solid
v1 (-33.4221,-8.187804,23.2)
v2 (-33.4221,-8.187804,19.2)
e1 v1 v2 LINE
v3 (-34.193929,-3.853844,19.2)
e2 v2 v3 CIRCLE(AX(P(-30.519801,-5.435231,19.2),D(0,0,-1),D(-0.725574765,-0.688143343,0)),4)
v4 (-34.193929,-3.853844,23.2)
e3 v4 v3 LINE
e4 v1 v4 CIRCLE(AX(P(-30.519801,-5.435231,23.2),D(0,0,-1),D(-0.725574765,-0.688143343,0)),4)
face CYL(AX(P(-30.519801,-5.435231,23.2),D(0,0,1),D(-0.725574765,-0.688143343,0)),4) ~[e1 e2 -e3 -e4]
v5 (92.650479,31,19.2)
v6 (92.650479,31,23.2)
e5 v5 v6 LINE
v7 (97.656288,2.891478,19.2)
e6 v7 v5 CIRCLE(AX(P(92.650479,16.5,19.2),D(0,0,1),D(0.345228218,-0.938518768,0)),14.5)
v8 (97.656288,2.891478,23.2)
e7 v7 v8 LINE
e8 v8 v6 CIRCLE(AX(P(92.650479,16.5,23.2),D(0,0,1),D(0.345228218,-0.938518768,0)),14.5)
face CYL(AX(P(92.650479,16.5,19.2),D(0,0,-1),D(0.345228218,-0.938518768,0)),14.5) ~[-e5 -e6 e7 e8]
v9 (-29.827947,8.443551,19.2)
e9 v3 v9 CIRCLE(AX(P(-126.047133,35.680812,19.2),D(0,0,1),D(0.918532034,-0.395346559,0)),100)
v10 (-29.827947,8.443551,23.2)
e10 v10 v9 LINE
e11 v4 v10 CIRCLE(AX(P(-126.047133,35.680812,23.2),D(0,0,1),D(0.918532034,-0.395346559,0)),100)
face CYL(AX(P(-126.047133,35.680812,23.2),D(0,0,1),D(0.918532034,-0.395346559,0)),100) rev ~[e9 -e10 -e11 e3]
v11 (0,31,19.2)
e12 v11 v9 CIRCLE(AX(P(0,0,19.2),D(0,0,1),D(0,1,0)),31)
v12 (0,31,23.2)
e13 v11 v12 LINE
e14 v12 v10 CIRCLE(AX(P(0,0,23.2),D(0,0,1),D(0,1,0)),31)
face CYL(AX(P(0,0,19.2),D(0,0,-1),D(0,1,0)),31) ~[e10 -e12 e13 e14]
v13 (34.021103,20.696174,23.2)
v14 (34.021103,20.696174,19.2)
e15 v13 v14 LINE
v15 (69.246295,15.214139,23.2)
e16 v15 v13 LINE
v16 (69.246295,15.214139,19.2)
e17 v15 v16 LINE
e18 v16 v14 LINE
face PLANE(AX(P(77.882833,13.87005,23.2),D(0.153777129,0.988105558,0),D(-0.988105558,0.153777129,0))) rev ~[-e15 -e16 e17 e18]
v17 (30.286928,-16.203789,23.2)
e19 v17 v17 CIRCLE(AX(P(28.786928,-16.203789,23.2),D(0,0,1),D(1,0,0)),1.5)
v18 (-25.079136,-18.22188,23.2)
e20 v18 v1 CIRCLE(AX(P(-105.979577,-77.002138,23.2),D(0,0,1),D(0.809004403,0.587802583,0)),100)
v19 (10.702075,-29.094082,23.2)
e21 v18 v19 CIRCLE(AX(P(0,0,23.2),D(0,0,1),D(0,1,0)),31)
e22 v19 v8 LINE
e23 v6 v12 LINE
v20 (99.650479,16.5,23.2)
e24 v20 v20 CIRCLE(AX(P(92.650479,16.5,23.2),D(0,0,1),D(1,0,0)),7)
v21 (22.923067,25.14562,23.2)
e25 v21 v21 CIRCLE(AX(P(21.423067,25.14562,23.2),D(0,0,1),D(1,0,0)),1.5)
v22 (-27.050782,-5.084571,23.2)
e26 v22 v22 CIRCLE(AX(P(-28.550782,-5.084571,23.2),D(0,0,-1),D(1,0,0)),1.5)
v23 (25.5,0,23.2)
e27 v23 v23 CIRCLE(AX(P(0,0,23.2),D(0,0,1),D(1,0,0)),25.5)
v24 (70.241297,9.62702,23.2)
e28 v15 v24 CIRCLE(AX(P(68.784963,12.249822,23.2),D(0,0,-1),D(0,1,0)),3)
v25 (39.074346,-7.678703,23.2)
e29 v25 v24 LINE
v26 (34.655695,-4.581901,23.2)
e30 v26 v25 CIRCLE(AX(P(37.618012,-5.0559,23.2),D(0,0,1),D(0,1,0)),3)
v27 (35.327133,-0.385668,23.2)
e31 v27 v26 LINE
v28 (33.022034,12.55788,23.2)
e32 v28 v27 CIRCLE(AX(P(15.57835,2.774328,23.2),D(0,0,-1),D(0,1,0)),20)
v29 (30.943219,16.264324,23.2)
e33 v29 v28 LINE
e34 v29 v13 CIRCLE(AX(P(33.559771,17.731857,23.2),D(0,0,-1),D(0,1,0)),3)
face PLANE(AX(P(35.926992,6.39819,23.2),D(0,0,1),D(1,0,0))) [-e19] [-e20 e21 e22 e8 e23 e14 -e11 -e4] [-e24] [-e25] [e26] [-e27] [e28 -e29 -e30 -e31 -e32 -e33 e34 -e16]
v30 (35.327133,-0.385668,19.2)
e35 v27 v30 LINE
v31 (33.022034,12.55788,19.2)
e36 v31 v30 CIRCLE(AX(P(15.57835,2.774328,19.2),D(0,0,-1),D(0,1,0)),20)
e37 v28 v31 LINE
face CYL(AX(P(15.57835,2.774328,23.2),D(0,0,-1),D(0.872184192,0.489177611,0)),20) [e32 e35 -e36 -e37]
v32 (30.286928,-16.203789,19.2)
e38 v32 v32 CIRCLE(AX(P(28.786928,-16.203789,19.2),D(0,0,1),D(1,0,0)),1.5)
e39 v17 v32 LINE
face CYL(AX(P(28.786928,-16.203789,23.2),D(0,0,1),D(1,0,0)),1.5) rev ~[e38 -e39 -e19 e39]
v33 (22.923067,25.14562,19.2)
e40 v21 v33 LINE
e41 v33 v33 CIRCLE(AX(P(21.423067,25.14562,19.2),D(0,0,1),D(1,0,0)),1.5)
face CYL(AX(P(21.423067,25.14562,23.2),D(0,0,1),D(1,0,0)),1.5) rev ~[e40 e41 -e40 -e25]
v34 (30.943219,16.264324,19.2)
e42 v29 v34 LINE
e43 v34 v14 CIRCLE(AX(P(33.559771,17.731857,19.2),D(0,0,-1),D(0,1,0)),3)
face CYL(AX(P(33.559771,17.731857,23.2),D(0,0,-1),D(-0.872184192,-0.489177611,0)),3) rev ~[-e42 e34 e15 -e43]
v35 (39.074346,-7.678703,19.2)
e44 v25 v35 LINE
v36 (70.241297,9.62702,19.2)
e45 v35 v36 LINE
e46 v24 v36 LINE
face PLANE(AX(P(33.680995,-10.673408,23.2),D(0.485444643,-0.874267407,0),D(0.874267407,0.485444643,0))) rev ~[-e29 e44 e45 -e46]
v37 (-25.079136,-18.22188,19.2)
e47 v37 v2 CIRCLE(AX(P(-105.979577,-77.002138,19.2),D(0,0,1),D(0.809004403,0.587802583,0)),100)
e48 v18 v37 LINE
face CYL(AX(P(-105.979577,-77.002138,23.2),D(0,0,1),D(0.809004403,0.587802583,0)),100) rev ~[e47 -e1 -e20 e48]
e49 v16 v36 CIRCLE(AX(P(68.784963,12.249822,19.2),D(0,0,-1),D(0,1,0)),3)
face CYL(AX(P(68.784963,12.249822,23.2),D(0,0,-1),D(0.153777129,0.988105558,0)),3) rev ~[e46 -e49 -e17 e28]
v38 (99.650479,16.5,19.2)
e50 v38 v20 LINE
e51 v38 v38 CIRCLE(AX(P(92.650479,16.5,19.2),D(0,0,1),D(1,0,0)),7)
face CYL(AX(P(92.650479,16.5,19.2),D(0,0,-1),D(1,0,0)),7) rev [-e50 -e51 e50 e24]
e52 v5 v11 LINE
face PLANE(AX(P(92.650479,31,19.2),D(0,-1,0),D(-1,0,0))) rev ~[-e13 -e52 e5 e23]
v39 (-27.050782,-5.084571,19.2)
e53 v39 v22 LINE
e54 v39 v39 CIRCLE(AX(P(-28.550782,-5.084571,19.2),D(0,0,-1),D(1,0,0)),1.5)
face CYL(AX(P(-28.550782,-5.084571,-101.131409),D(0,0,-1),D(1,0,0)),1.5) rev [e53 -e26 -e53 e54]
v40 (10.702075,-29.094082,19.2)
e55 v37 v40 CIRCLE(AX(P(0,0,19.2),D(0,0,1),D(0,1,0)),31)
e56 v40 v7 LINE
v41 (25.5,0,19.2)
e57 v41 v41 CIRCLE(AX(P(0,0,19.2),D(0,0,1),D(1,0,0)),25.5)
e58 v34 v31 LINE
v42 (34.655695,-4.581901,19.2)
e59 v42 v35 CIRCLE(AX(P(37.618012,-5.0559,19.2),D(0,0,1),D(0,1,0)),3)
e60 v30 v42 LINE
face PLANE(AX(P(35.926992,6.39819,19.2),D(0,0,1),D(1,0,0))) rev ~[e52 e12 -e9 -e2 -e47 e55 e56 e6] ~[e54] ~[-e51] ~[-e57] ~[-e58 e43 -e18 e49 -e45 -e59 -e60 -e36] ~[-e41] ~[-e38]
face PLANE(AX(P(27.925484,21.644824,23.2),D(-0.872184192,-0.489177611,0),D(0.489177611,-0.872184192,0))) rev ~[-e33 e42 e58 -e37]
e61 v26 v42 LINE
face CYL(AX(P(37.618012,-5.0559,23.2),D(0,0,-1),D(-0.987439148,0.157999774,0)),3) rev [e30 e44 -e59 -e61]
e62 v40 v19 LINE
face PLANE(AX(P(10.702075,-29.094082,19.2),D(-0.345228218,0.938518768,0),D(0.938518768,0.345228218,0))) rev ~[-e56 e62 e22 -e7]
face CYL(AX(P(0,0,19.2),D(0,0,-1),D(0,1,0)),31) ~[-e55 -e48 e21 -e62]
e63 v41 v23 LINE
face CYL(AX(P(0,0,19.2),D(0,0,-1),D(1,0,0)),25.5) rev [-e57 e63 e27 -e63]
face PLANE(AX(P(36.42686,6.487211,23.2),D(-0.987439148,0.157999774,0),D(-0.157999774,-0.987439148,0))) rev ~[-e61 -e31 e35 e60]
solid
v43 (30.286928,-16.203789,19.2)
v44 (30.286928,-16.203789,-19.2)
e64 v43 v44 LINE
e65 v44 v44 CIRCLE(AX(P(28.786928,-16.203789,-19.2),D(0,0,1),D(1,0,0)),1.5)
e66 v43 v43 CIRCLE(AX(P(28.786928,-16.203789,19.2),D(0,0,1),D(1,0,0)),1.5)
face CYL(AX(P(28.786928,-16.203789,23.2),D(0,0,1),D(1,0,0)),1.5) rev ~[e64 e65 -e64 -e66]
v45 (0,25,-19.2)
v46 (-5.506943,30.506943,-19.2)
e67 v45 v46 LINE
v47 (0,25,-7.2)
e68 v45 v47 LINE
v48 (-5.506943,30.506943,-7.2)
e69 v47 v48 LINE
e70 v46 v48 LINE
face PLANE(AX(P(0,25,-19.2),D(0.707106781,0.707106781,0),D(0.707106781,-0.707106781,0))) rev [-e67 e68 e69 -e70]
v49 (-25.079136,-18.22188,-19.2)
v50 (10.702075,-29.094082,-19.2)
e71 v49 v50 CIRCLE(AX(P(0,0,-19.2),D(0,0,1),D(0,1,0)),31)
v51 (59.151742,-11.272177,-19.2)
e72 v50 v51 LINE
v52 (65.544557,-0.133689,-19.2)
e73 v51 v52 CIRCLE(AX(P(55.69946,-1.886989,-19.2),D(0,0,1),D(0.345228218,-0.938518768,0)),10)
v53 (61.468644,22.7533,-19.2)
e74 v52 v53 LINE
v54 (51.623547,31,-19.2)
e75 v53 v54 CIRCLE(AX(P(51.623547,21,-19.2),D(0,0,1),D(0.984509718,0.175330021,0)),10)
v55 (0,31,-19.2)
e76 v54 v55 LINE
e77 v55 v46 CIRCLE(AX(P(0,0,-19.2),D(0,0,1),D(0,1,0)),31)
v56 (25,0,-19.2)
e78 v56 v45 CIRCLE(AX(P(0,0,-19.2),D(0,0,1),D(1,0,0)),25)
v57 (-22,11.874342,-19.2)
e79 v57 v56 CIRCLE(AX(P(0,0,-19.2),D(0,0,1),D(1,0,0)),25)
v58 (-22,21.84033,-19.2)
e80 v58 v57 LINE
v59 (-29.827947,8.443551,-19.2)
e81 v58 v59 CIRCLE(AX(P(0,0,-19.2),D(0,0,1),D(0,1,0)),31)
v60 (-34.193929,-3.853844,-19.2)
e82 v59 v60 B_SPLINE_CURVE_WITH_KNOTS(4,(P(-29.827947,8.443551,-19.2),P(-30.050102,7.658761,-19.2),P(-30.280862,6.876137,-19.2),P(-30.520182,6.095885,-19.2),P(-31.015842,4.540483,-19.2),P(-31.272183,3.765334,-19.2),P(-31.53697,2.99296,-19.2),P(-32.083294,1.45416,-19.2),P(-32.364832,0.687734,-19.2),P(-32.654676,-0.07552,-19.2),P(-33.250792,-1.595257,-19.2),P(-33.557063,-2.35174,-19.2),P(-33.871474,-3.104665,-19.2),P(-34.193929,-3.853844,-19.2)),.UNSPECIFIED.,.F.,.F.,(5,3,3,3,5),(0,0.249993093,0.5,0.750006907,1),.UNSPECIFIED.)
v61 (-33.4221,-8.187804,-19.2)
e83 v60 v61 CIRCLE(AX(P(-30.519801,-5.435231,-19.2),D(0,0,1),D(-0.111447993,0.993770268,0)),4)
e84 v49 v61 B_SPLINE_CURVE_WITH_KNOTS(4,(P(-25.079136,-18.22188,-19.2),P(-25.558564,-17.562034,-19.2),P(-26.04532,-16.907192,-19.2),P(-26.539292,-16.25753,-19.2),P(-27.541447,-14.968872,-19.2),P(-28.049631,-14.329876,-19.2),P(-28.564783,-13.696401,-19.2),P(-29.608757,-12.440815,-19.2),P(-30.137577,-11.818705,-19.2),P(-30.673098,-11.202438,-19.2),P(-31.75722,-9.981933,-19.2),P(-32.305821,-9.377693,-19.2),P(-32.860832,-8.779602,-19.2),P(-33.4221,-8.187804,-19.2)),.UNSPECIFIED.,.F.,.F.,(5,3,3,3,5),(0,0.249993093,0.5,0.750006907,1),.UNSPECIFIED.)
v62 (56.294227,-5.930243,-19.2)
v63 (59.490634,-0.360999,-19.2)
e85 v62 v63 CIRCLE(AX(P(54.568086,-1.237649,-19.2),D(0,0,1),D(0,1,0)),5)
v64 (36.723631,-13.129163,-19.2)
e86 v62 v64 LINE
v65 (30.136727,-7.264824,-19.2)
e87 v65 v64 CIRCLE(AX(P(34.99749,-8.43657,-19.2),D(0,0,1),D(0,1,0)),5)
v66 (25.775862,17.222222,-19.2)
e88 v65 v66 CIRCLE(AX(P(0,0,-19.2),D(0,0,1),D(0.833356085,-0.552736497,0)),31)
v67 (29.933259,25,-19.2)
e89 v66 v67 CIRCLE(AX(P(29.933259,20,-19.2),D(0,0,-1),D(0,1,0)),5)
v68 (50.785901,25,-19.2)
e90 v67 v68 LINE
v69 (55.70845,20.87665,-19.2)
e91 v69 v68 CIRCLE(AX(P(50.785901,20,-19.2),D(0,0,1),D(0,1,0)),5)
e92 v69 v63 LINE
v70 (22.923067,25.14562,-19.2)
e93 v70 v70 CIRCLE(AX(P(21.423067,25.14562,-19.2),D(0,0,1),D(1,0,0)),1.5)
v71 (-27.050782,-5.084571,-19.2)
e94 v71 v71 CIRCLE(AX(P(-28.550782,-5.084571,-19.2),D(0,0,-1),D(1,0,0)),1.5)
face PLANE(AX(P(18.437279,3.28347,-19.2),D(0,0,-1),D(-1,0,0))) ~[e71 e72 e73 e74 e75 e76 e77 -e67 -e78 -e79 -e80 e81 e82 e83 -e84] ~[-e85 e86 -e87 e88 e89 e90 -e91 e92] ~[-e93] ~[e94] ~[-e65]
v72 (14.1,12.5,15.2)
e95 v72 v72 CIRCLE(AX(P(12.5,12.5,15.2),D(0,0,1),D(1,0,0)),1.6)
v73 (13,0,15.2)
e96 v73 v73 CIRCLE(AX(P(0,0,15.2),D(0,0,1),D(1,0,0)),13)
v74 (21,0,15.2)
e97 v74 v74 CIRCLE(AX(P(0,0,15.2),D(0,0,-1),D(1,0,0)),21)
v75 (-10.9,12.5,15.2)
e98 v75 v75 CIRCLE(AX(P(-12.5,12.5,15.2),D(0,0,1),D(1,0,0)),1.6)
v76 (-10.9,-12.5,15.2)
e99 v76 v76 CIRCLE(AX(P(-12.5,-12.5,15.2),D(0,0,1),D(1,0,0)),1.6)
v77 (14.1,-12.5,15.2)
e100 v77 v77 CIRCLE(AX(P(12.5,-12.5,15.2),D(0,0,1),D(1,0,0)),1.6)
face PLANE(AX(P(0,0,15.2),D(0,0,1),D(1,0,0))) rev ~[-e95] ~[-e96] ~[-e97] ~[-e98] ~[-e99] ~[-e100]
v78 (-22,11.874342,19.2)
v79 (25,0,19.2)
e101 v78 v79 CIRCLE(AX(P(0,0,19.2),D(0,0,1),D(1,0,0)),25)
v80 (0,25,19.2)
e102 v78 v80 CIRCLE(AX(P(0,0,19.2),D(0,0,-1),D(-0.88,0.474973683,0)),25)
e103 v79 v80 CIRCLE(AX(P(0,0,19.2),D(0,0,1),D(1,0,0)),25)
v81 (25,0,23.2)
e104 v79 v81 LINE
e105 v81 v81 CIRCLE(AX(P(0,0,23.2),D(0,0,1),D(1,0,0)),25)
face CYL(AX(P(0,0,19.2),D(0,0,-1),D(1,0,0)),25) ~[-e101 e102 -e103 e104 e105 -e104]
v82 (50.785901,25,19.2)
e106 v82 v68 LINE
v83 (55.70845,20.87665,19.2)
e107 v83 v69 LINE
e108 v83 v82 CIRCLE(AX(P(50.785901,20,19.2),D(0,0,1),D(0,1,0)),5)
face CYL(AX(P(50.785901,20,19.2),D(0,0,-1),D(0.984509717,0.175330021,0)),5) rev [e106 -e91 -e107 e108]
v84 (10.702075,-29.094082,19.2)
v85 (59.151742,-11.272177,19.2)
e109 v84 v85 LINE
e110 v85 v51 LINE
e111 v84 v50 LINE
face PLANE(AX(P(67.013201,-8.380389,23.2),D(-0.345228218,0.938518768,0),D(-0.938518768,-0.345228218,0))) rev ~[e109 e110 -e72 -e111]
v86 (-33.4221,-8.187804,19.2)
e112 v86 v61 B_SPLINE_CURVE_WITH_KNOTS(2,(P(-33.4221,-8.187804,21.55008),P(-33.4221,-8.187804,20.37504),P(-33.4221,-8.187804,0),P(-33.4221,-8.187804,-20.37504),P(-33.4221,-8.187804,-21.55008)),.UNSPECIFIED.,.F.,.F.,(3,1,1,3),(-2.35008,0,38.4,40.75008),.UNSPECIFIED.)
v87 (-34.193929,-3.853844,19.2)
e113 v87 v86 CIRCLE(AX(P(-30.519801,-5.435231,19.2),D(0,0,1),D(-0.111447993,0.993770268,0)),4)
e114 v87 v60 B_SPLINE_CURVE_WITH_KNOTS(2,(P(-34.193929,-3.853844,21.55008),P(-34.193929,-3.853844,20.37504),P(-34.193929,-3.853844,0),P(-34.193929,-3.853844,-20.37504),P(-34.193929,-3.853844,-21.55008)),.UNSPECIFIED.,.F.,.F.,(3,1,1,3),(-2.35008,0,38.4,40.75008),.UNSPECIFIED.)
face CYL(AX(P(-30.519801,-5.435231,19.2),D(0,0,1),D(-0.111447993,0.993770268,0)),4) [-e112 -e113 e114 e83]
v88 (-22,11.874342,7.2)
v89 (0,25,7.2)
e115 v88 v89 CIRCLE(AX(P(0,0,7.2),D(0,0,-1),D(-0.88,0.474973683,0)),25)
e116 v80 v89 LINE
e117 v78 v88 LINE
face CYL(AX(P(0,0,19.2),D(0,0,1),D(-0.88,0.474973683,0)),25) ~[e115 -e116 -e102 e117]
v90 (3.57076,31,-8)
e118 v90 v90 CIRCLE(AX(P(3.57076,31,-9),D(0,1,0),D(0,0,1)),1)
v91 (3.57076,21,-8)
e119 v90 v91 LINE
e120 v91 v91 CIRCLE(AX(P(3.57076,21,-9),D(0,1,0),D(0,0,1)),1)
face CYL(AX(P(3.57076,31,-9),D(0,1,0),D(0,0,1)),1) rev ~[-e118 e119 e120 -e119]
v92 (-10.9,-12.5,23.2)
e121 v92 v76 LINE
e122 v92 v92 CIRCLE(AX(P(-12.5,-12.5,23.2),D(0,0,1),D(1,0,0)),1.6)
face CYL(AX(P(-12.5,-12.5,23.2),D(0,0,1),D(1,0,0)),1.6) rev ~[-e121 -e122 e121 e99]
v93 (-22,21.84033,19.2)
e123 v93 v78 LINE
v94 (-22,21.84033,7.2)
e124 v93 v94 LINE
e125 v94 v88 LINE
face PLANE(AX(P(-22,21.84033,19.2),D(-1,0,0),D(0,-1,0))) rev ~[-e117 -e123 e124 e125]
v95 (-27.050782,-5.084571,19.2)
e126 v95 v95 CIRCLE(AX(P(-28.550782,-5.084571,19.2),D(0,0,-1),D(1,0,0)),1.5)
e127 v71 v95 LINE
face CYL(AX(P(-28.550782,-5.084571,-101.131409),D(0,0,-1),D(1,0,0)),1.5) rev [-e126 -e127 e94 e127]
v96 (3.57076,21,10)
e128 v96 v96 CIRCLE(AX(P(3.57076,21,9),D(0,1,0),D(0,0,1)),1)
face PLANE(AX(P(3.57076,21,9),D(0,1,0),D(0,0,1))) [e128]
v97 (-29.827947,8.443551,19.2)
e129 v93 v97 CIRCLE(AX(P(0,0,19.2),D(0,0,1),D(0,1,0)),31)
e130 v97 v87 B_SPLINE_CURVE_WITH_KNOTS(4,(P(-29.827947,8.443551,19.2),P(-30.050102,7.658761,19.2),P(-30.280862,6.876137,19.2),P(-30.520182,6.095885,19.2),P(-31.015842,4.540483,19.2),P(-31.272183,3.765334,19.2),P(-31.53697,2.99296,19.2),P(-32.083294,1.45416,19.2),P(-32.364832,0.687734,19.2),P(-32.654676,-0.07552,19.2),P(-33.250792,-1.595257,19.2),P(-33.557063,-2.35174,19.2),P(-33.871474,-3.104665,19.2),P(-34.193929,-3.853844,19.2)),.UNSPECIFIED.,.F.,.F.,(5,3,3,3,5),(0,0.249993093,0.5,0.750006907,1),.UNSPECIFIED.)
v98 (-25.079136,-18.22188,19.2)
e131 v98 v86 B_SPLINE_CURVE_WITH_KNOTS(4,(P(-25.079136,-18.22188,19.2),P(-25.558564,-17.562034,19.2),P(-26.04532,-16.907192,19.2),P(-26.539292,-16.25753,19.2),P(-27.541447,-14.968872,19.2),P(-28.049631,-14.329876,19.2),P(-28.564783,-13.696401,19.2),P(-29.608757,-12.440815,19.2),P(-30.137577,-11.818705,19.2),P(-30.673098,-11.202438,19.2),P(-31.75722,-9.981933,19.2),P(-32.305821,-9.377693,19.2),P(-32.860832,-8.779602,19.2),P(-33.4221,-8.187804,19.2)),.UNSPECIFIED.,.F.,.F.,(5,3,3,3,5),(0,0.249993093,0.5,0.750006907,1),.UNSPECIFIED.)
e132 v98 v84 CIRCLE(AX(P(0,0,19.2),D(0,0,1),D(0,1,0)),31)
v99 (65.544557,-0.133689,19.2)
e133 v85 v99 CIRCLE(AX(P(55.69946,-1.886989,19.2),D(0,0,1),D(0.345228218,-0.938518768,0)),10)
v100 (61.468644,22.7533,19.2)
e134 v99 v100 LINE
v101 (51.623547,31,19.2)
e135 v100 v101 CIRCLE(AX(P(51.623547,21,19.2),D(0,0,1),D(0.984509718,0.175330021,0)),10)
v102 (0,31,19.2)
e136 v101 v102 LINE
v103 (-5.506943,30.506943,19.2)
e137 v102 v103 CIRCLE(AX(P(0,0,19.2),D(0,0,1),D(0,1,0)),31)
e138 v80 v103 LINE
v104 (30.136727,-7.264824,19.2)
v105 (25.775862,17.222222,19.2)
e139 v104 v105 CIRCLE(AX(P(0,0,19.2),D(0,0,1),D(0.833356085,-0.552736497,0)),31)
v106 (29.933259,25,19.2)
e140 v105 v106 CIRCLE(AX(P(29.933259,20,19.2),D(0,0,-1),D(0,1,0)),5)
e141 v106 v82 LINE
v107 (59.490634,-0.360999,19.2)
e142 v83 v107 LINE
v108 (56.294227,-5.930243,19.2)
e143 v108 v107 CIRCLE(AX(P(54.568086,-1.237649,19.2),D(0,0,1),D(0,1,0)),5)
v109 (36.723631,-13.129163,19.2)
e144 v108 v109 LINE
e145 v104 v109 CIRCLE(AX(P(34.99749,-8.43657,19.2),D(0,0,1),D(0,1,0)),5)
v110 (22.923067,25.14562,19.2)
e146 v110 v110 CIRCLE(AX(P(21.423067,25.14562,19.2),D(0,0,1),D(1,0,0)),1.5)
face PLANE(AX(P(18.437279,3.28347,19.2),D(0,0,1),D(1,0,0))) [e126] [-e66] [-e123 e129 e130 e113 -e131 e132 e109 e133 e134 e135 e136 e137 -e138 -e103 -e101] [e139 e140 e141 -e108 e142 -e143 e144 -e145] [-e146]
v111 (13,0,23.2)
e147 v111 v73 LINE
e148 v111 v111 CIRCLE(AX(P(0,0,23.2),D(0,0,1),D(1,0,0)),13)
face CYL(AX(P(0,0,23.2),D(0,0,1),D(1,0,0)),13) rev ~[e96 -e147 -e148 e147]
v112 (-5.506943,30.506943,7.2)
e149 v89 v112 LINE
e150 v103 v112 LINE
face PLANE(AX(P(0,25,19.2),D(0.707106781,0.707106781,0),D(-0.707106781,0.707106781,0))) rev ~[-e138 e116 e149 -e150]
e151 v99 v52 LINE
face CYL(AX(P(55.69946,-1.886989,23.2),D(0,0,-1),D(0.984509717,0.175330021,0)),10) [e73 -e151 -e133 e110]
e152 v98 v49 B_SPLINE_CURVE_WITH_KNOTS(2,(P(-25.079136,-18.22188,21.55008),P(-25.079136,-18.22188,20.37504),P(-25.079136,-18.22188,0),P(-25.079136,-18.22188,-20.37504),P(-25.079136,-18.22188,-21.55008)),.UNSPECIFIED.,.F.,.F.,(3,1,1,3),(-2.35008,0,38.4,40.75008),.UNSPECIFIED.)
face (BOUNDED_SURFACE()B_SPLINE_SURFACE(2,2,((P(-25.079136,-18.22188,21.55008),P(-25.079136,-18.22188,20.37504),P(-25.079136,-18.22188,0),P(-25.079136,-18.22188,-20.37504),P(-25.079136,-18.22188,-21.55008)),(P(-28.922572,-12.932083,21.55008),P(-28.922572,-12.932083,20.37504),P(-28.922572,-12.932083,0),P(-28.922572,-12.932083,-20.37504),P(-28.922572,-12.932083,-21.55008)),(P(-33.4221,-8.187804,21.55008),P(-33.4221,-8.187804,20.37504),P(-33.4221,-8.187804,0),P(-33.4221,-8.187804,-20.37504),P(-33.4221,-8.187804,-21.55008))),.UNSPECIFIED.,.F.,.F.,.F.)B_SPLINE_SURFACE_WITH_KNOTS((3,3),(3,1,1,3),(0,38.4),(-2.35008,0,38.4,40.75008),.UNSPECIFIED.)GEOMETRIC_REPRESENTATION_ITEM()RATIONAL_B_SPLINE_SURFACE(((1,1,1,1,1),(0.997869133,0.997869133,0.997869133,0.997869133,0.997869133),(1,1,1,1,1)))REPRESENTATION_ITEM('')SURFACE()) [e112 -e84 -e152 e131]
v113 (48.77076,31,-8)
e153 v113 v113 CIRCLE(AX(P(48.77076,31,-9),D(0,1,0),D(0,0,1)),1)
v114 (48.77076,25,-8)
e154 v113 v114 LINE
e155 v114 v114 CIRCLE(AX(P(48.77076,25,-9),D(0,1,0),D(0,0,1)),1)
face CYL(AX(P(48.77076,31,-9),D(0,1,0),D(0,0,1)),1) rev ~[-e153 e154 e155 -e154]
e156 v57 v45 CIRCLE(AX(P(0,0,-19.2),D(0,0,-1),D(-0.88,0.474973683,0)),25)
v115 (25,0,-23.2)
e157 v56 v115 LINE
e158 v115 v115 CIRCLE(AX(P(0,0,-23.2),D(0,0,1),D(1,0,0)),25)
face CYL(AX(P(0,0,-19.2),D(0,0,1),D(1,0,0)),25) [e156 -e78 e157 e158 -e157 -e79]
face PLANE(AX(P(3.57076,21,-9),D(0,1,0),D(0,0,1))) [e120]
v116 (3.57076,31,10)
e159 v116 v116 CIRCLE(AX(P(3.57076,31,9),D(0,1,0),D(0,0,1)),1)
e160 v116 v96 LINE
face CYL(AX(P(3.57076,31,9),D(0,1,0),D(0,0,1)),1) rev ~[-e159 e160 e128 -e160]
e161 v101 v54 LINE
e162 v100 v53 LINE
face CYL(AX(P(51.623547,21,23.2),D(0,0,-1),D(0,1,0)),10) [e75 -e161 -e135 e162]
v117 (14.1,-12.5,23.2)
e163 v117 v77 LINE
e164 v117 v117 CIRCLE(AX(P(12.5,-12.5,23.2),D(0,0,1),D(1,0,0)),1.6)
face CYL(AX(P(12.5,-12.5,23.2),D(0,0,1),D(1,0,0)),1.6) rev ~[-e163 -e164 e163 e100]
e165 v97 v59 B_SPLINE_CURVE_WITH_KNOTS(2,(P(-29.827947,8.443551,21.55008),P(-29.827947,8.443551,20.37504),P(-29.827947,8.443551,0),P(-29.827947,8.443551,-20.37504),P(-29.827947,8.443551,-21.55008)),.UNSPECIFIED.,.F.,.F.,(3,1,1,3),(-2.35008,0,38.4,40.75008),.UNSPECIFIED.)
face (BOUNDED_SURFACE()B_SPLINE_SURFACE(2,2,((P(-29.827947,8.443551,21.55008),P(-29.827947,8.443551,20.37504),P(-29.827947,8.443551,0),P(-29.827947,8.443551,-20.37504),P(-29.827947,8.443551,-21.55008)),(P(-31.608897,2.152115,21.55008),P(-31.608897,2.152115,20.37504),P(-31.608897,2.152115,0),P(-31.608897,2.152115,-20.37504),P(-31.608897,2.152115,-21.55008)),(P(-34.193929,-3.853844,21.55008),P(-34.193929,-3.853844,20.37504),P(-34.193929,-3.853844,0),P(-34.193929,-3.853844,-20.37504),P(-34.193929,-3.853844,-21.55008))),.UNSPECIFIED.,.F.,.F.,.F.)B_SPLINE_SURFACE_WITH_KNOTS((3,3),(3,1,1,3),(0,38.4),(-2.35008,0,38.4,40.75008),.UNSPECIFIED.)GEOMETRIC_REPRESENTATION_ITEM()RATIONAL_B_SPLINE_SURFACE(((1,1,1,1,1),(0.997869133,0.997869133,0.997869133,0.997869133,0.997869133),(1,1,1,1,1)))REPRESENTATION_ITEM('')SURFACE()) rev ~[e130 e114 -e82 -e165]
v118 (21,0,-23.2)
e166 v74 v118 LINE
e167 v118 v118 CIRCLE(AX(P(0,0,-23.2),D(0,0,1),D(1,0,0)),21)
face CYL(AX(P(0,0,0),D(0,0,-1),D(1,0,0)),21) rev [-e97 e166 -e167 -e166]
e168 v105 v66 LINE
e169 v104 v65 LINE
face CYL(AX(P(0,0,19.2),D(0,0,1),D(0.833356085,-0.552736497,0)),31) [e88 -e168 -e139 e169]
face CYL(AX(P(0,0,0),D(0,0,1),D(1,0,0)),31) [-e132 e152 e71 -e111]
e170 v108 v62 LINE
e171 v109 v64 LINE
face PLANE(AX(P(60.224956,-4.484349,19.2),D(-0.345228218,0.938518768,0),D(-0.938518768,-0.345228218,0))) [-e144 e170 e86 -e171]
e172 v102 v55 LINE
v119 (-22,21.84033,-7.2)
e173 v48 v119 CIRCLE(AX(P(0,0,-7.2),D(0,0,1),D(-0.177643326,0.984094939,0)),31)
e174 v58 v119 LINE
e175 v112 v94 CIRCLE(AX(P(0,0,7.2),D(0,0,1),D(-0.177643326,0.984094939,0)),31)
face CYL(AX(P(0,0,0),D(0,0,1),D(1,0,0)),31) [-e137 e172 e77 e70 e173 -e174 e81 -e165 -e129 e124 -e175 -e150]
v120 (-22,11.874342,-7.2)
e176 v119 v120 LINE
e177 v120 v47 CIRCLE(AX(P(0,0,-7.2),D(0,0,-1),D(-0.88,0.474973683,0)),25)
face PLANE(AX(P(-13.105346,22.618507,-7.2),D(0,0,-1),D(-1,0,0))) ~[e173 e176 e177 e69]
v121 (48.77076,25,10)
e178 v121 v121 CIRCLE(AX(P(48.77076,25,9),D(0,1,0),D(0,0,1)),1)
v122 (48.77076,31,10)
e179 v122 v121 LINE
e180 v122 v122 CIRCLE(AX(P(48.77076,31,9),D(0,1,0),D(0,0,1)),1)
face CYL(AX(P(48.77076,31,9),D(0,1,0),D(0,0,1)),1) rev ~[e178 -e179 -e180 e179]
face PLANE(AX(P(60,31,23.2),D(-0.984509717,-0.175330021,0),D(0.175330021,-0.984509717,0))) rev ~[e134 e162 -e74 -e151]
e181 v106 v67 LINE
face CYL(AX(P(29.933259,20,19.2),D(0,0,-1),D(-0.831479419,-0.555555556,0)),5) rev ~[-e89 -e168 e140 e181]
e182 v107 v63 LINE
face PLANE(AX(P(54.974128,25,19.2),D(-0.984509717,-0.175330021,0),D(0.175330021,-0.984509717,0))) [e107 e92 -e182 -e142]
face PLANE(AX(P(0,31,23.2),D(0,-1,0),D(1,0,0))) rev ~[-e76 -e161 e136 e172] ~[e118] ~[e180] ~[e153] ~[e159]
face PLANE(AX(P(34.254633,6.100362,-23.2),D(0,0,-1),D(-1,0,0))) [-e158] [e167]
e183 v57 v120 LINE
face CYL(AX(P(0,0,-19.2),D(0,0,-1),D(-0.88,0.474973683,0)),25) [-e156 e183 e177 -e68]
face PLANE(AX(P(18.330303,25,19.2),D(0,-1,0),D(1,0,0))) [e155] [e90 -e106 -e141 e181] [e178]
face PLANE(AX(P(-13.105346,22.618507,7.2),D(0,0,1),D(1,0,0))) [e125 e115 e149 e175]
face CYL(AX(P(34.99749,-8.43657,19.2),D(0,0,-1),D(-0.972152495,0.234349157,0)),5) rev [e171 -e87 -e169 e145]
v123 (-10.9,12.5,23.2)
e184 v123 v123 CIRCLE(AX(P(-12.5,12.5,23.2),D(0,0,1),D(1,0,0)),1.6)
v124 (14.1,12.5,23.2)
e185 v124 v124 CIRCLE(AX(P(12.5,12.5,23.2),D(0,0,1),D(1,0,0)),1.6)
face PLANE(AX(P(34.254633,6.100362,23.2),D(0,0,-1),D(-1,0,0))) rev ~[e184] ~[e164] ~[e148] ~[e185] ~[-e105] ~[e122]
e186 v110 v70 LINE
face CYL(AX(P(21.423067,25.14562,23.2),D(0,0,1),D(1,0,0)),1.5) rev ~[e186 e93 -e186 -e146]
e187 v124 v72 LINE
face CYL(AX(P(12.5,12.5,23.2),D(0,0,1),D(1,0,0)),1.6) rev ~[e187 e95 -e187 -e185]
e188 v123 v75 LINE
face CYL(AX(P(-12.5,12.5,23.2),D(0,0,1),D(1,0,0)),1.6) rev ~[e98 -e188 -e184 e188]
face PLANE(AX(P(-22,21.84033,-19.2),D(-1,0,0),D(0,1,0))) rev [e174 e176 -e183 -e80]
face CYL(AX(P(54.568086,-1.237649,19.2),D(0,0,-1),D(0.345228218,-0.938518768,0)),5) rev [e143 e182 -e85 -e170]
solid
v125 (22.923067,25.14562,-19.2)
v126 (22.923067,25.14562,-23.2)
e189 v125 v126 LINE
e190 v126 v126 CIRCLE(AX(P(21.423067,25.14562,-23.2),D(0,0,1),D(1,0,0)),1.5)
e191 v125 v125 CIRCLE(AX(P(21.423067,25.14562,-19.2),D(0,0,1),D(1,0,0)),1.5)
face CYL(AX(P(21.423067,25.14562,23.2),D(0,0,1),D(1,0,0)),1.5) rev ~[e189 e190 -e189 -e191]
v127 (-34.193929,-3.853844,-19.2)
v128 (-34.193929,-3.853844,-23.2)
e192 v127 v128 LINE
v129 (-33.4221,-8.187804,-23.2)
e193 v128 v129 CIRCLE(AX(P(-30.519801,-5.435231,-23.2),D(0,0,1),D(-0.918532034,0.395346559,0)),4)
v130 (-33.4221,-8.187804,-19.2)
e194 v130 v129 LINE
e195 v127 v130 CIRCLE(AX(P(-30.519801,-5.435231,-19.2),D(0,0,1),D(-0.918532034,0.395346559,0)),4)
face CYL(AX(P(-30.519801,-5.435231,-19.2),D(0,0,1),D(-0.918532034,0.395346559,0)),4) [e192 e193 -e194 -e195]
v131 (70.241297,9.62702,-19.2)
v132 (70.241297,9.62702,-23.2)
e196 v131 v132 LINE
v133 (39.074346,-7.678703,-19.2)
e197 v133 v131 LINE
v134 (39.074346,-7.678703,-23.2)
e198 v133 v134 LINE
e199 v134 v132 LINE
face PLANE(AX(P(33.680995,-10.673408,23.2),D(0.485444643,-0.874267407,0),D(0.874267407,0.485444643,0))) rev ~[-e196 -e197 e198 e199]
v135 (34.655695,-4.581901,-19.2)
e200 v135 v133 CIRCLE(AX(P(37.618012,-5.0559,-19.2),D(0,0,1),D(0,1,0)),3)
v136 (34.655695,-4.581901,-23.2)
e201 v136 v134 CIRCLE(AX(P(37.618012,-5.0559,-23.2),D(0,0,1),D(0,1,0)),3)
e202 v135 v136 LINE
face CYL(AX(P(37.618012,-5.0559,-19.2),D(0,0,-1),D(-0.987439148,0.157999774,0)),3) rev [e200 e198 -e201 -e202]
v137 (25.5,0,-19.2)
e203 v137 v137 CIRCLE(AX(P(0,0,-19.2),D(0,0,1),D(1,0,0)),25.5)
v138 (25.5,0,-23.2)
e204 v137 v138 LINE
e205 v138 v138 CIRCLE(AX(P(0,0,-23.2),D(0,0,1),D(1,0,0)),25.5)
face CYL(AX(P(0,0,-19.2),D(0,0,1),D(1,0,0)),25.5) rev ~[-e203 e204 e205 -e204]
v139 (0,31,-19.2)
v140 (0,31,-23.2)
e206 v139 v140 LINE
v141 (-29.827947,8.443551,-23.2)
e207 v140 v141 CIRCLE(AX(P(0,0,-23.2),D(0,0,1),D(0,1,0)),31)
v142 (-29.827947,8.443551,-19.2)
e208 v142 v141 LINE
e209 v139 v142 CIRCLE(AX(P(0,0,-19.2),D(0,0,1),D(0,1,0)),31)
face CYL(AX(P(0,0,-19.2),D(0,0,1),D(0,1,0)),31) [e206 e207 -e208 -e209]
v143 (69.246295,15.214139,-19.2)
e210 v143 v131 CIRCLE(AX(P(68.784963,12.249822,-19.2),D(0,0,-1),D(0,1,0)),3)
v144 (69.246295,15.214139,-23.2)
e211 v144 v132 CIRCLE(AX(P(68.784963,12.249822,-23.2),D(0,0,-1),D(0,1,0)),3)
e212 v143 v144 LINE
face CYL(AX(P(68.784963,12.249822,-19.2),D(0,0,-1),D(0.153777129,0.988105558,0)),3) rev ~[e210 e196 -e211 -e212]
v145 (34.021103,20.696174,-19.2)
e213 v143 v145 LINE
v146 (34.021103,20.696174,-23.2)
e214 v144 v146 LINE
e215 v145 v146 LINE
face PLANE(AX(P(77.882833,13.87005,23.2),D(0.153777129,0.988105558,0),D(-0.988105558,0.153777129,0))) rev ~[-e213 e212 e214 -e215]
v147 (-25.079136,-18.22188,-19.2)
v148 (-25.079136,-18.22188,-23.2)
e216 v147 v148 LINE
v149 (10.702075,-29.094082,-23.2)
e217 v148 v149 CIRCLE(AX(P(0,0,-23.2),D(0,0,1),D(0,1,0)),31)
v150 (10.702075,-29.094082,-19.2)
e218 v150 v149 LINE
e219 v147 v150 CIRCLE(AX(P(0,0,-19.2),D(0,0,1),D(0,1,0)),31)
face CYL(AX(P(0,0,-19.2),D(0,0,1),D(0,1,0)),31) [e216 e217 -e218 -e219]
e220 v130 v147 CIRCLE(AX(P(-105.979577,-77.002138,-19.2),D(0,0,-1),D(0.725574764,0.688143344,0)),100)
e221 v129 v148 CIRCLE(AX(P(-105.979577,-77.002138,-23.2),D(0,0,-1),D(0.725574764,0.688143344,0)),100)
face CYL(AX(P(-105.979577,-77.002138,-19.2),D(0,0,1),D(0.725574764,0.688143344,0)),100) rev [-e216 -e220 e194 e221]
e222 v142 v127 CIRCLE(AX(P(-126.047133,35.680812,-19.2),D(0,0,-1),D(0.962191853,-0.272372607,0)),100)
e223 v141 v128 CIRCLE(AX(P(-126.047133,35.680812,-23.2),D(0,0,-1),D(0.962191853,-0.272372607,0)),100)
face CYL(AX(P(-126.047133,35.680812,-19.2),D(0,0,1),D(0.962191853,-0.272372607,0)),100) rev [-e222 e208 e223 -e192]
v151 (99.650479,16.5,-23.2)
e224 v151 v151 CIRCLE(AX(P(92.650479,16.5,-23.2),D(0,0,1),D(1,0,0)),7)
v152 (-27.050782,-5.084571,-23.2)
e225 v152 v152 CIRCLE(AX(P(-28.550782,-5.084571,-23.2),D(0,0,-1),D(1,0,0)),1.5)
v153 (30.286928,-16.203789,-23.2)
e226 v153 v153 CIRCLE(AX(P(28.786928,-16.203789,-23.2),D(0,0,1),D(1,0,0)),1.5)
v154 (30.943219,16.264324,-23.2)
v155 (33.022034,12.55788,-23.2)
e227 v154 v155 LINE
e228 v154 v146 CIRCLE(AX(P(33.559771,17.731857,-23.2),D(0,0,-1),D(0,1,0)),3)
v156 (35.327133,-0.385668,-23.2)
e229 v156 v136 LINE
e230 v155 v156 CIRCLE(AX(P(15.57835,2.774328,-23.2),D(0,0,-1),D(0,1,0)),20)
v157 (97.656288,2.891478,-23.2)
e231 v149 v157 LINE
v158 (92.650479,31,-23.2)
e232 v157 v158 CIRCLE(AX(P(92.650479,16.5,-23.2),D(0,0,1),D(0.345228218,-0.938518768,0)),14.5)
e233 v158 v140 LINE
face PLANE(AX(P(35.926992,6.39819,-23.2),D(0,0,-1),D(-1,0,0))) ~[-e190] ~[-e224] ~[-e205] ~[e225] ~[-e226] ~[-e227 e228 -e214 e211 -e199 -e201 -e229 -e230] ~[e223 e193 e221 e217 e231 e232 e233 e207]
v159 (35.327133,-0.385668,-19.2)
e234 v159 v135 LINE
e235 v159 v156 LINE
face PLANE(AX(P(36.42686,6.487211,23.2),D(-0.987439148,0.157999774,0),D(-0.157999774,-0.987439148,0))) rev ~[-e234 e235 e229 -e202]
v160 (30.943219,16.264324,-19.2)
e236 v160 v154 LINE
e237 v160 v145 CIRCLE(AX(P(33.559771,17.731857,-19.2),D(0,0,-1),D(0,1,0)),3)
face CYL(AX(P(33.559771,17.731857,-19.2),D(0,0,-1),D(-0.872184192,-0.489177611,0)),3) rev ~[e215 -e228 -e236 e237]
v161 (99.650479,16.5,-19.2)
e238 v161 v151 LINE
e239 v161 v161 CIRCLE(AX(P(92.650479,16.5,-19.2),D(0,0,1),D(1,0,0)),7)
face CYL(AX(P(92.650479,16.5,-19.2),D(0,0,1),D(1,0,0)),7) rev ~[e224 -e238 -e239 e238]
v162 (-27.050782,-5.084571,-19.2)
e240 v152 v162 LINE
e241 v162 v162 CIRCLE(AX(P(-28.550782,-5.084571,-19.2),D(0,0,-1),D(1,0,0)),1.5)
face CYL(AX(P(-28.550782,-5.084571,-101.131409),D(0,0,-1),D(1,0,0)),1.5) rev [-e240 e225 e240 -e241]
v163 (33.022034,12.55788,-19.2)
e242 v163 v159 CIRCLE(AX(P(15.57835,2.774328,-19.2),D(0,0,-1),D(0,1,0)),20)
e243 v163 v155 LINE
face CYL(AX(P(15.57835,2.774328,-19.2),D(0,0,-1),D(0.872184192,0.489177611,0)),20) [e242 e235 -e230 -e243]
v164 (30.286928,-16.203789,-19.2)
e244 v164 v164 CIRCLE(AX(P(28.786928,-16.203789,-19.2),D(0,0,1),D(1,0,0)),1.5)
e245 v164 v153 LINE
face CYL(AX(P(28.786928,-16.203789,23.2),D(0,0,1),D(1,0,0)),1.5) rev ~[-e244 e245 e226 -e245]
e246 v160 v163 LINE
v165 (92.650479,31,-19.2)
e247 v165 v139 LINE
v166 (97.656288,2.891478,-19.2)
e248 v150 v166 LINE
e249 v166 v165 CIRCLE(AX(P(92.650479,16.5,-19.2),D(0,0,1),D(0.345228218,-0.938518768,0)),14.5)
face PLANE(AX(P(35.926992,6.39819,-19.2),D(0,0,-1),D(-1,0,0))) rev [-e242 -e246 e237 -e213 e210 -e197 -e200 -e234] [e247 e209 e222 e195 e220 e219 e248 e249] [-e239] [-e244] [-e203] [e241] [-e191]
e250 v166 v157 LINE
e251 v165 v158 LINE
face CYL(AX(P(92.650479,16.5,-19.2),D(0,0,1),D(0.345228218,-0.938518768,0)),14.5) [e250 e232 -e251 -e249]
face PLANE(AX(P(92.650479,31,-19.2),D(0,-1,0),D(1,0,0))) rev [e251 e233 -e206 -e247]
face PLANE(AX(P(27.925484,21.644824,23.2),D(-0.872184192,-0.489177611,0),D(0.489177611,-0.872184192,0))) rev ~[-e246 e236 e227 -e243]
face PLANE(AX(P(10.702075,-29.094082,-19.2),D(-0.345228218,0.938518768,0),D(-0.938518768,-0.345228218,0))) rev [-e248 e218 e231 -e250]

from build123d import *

# Parameters (mm, degrees)
SKETCH_1_R               = 31
SKETCH_1_R_2             = 21
EXTRUDE_1_DEPTH          = 23.2
SKETCH_2_R               = 31
SKETCH_2_R_2             = 13
EXTRUDE_2_DEPTH          = 8
SKETCH_3_R               = 1.6
CUT_EXTRUDE_1_DEPTH      = 64.835413369
EXTRUDE_3_DEPTH          = 46.4
FILLET_1_R               = 10
CUT_EXTRUDE_START        = -4
SKETCH_7_R               = 25
CUT_EXTRUDE_4_DEPTH      = 4
CUT_EXTRUDE_5_DEPTH      = 85.11408343
FILLET_2_R               = 5
SKETCH_9_R               = 7
SKETCH_9_R_2             = 25.5
EXTRUDE_4_DEPTH          = 4
SKETCH_10_R              = 1.5
CUT_EXTRUDE_6_DEPTH      = 121.810533784
EXTRUDE_5_DEPTH          = 38.4
FILLET_3_R               = 100
CUT_EXTRUDE_8_DEPTH      = 120.331408604
CUT_EXTRUDE_8_DEPTH_BACK = 120.331408604
SKETCH_14_R              = 1.5
EXTRUDE_6_DEPTH          = 4
CUT_EXTRUDE_9_DEPTH      = 121.81053381
FILLET_4_R               = 20
FILLET_5_R               = 3
FILLET_6_R               = 20
FILLET_7_R               = 3
SKETCH_19_R              = 7.8
SKETCH_19_R_2            = 7
EXTRUDE_7_DEPTH          = 0.8
SKETCH_20_R              = 7
SKETCH_20_R_2            = 4
EXTRUDE_8_DEPTH          = 4
SKETCH_21_R              = 1
CUT_EXTRUDE_10_DEPTH     = 10
EXTRUDE_START            = -4
EXTRUDE_9_DEPTH          = 4
CUT_EXTRUDE_11_DEPTH     = 12


with BuildPart() as part:
    # 草图1 → 凸台-拉伸1 (new, symmetric)
    with BuildSketch(Plane.XY):
        Circle(SKETCH_1_R)
        Circle(SKETCH_1_R_2, mode=Mode.SUBTRACT)
    extrude(amount=EXTRUDE_1_DEPTH, both=True)

    # 草图2 → 凸台-拉伸2 (add)
    with BuildSketch(Plane.XY.offset(23.2)):
        Circle(SKETCH_2_R)
        Circle(SKETCH_2_R_2, mode=Mode.SUBTRACT)
    extrude(amount=-EXTRUDE_2_DEPTH)

    # 草图3 → 切除-拉伸1 (cut, through all)
    with BuildSketch(Plane.XY.offset(23.2)):
        with Locations((-12.5, 12.5)):
            Circle(SKETCH_3_R)
        with Locations((-12.5, -12.5)):
            Circle(SKETCH_3_R)
        with Locations((12.5, -12.5)):
            Circle(SKETCH_3_R)
        with Locations((12.5, 12.5)):
            Circle(SKETCH_3_R)
    extrude(amount=-CUT_EXTRUDE_1_DEPTH, mode=Mode.SUBTRACT)

    # 草图4 → 凸台-拉伸3 (add)
    with BuildSketch(Plane.XY.offset(23.2)):
        with BuildLine():
            Line((0, 31), (60, 31))
            Line((60, 31), (67.013200828, -8.3803887))
            Line((67.013200828, -8.3803887), (10.702074767, -29.094081798))
            ThreePointArc((10.702074767, -29.094081798), (30.519801242, 5.435230642), (0, 31))
        make_face()
    extrude(amount=-EXTRUDE_3_DEPTH)

    # 圆角1
    fillet_1_edges = [part.edges().sort_by_distance(p)[0] for p in [
        (60, 31, 0),
        (67.013200828, -8.3803887, 0),
    ]]
    fillet(fillet_1_edges, radius=FILLET_1_R)

    # 草图7 → 切除-拉伸4 (cut)
    with BuildSketch(Plane.XY.offset(23.2).offset(CUT_EXTRUDE_START)):
        with BuildLine():
            Line((65.544557076, -0.133688907), (61.468643752, 22.753300207))
            ThreePointArc((61.468643752, 22.753300207), (58.044878134, 28.665931192), (51.623546577, 31))
            Line((51.623546577, 31), (0, 31))
            ThreePointArc((0, 31), (-30.519801242, -5.435230642), (10.702074767, -29.094081798))
            Line((10.702074767, -29.094081798), (59.151742084, -11.272176791))
            ThreePointArc((59.151742084, -11.272176791), (64.372495848, -6.864784556), (65.544557076, -0.133688907))
        make_face()
        Circle(SKETCH_7_R, mode=Mode.SUBTRACT)
    cut_extrude_4 = extrude(amount=CUT_EXTRUDE_4_DEPTH, mode=Mode.SUBTRACT)

    # 镜向1: 切除-拉伸4 across plane
    add(cut_extrude_4.mirror(Plane.XY), mode=Mode.SUBTRACT)

    # 草图8 → 切除-拉伸5 (cut, through all)
    with BuildSketch(Plane.XY.offset(19.2)):
        with BuildLine():
            Line((18.33030278, 25), (54.974127946, 25))
            Line((54.974127946, 25), (60.224956272, -4.484348948))
            Line((60.224956272, -4.484348948), (25.834038634, -17.134831422))
            ThreePointArc((25.834038634, -17.134831422), (30.519801242, 5.435230642), (18.33030278, 25))
        make_face()
    extrude(amount=-CUT_EXTRUDE_5_DEPTH, mode=Mode.SUBTRACT)

    # 圆角2
    fillet_2_edges = [part.edges().sort_by_distance(p)[0] for p in [
        (25.834038634, -17.134831422, 0),
        (18.33030278, 25, 0),
        (54.974127946, 25, 0),
        (60.224956272, -4.484348948, 0),
    ]]
    fillet(fillet_2_edges, radius=FILLET_2_R)


with BuildPart() as body_2:
    # 草图9 → 凸台-拉伸4 (new body)
    with BuildSketch(Plane.XY.offset(19.2)):
        with BuildLine():
            Line((51.623546577, 31), (0, 31))
            ThreePointArc((0, 31), (-30.519801242, -5.435230642), (10.702074767, -29.094081798))
            Line((10.702074767, -29.094081798), (97.656287807, 2.891477869))
            ThreePointArc((97.656287807, 2.891477869), (106.925869546, 19.0422853), (92.650478642, 31))
            Line((92.650478642, 31), (51.623546577, 31))
        make_face()
        with Locations((92.650478642, 16.5)):
            Circle(SKETCH_9_R, mode=Mode.SUBTRACT)
        Circle(SKETCH_9_R_2, mode=Mode.SUBTRACT)
    extrude(amount=EXTRUDE_4_DEPTH)


with BuildPart() as body_3:
    # 镜向4: mirrored copy
    add(body_2.part.mirror(Plane.XY))


with BuildPart() as cut_extrude_6_tool:
    # 草图10 → 切除-拉伸6 (new, through all)
    with BuildSketch(Plane.XY.offset(23.2)):
        with Locations((21.423067361, 25.145619595)):
            Circle(SKETCH_10_R)
        with Locations((28.786928231, -16.203788539)):
            Circle(SKETCH_10_R)
    extrude(amount=-CUT_EXTRUDE_6_DEPTH)


with BuildPart() as part_1:
    add(part.part)

    # 切除-拉伸6: cut by cut_extrude_6_tool
    add(cut_extrude_6_tool.part, mode=Mode.SUBTRACT)

    # 草图13 → 凸台-拉伸5 (add)
    with BuildSketch(Plane.XY.offset(19.2)):
        with BuildLine():
            ThreePointArc((-30.965593216, -1.460149571), (-34.457840112, -6.136550725), (-29.565875221, -9.319818798))
            ThreePointArc((-29.565875221, -9.319818798), (-30.519801242, -5.435230642), (-30.965593216, -1.460149571))
        make_face()
    extrude(amount=-EXTRUDE_5_DEPTH)

    # 圆角3
    fillet_3_edges = [part_1.edges().sort_by_distance(p)[0] for p in [
        (-29.565875221, -9.319818798, 0),
        (-30.965593216, -1.460149571, 0),
    ]]
    fillet(fillet_3_edges, radius=FILLET_3_R)


with BuildPart() as body_2_1:
    add(body_2.part)

    # 切除-拉伸6: cut by cut_extrude_6_tool
    add(cut_extrude_6_tool.part, mode=Mode.SUBTRACT)


with BuildPart() as body_3_1:
    add(body_3.part)

    # 切除-拉伸6: cut by cut_extrude_6_tool
    add(cut_extrude_6_tool.part, mode=Mode.SUBTRACT)


with BuildPart() as cut_extrude_8_tool:
    # 草图14 → 切除-拉伸8 (new, two sides: drawn at the far end of the back side and taken through both)
    with BuildSketch(Plane.XY.offset(19.2).offset(-CUT_EXTRUDE_8_DEPTH_BACK)):
        with Locations((-28.550781807, -5.0845706)):
            Circle(SKETCH_14_R)
    extrude(amount=CUT_EXTRUDE_8_DEPTH + CUT_EXTRUDE_8_DEPTH_BACK)


with BuildPart() as part_2:
    add(part_1.part)

    # 切除-拉伸8: cut by cut_extrude_8_tool
    add(cut_extrude_8_tool.part, mode=Mode.SUBTRACT)

    # 草图21 → 切除-拉伸10 (cut)
    with BuildSketch(Plane(origin=(0, 31, 0), x_dir=(1, 0, 0), z_dir=(0, 1, 0))):
        with Locations(Location((3.570760462, 9, 0), (0, 0, 270))):
            Circle(SKETCH_21_R)
        with Locations(Location((3.570760462, -9, 0), (0, 0, 270))):
            Circle(SKETCH_21_R)
        with Locations(Location((48.770760462, -9, 0), (0, 0, 270))):
            Circle(SKETCH_21_R)
        with Locations(Location((48.770760462, 9, 0), (0, 0, 270))):
            Circle(SKETCH_21_R)
    extrude(amount=-CUT_EXTRUDE_10_DEPTH, mode=Mode.SUBTRACT)

    # 草图23 → 切除-拉伸11 (cut)
    with BuildSketch(Plane.XY.offset(19.2)):
        with BuildLine():
            Line((-22, 21.840329668), (-22, 11.874342087))
            ThreePointArc((-22, 11.874342087), (-12.809009482, 21.46926352), (0, 25))
            Line((0, 25), (-5.506943105, 30.506943105))
            ThreePointArc((-5.506943105, 30.506943105), (-14.419969725, 27.442020209), (-22, 21.840329668))
        make_face()
    cut_extrude_11 = extrude(amount=-CUT_EXTRUDE_11_DEPTH, mode=Mode.SUBTRACT)

    # 镜向5: 切除-拉伸11 across plane
    add(cut_extrude_11.mirror(Plane.XY), mode=Mode.SUBTRACT)


with BuildPart() as body_2_2:
    add(body_2_1.part)

    # 切除-拉伸8: cut by cut_extrude_8_tool
    add(cut_extrude_8_tool.part, mode=Mode.SUBTRACT)

    # 草图16 → 凸台-拉伸6 (add)
    with BuildSketch(Plane.XY.offset(23.2)):
        with BuildLine():
            ThreePointArc((-25.079136482, -18.22188007), (-29.086770055, -13.0686082), (-33.4221003, -8.187804016))
            ThreePointArc((-33.4221003, -8.187804016), (-34.457840112, -6.136550725), (-34.193929379, -3.853844404))
            ThreePointArc((-34.193929379, -3.853844404), (-31.810131913, 2.223560261), (-29.827947457, 8.443550824))
            ThreePointArc((-29.827947457, 8.443550824), (-30.519801242, -5.435230642), (-25.079136482, -18.22188007))
        make_face()
    extrude(amount=-EXTRUDE_6_DEPTH)


with BuildPart() as body_3_2:
    add(body_3_1.part)

    # 切除-拉伸8: cut by cut_extrude_8_tool
    add(cut_extrude_8_tool.part, mode=Mode.SUBTRACT)


with BuildPart() as cut_extrude_9_tool:
    # 草图18 → 切除-拉伸9 (new, through all)
    with BuildSketch(Plane.XY.offset(23.2)):
        Polygon((27.92548444, 21.64482388), (36.426859547, 6.487210766), (33.680995227, -10.673408195), (77.88283288, 13.870049689), align=None)
    extrude(amount=-CUT_EXTRUDE_9_DEPTH)


with BuildPart() as body_2_3:
    add(body_2_2.part)

    # 切除-拉伸9: cut by cut_extrude_9_tool
    add(cut_extrude_9_tool.part, mode=Mode.SUBTRACT)

    # 圆角4
    fillet_4_edges = [body_2_3.edges().sort_by_distance(p)[0] for p in [
        (36.426859547, 6.487210766, 21.2),
    ]]
    fillet(fillet_4_edges, radius=FILLET_4_R)

    # 圆角5
    fillet_5_edges = [body_2_3.edges().sort_by_distance(p)[0] for p in [
        (27.92548444, 21.64482388, 21.2),
        (77.88283288, 13.870049689, 21.2),
        (33.680995227, -10.673408195, 21.2),
    ]]
    fillet(fillet_5_edges, radius=FILLET_5_R)


with BuildPart() as body_3_3:
    add(body_3_2.part)

    # 切除-拉伸9: cut by cut_extrude_9_tool
    add(cut_extrude_9_tool.part, mode=Mode.SUBTRACT)

    # 圆角6
    fillet_6_edges = [body_3_3.edges().sort_by_distance(p)[0] for p in [
        (36.426859547, 6.487210766, -21.2),
    ]]
    fillet(fillet_6_edges, radius=FILLET_6_R)

    # 圆角7
    fillet_7_edges = [body_3_3.edges().sort_by_distance(p)[0] for p in [
        (27.92548444, 21.64482388, -21.2),
        (77.88283288, 13.870049689, -21.2),
        (33.680995227, -10.673408195, -21.2),
    ]]
    fillet(fillet_7_edges, radius=FILLET_7_R)

    # 草图22 → 凸台-拉伸9 (add)
    with BuildSketch(Plane(origin=(0, 0, -23.2), x_dir=(-1, 0, 0), z_dir=(0, 0, -1)).offset(EXTRUDE_START)):
        with BuildLine():
            ThreePointArc((33.4221003, -8.187804016), (29.086770055, -13.0686082), (25.079136482, -18.22188007))
            ThreePointArc((25.079136482, -18.22188007), (30.519801242, -5.435230642), (29.827947457, 8.443550824))
            ThreePointArc((29.827947457, 8.443550824), (31.810131913, 2.223560261), (34.193929379, -3.853844404))
            ThreePointArc((34.193929379, -3.853844404), (34.457840112, -6.136550725), (33.4221003, -8.187804016))
        make_face()
    extrude(amount=EXTRUDE_9_DEPTH)


with BuildPart() as body_4:
    # 草图19 → 凸台-拉伸7 (new body)
    with BuildSketch(Plane(origin=(0, 0, 19.2), x_dir=(-1, 0, 0), z_dir=(0, 0, -1))):
        with Locations((-92.650478642, 16.5)):
            Circle(SKETCH_19_R)
        with Locations(Location((-92.650478642, 16.5, 0), (0, 0, 180))):
            Circle(SKETCH_19_R_2, mode=Mode.SUBTRACT)
    extrude(amount=EXTRUDE_7_DEPTH)

    # 草图20 → 凸台-拉伸8 (add)
    with BuildSketch(Plane(origin=(0, 0, 18.4), x_dir=(-1, 0, 0), z_dir=(0, 0, -1))):
        with Locations(Location((-92.650478642, 16.5, 0), (0, 0, 180))):
            Circle(SKETCH_20_R)
        with Locations((-92.650478642, 16.5)):
            Circle(SKETCH_20_R_2, mode=Mode.SUBTRACT)
    extrude(amount=-EXTRUDE_8_DEPTH)


solid = Compound([part_2.part, body_2_3.part, body_3_3.part])
